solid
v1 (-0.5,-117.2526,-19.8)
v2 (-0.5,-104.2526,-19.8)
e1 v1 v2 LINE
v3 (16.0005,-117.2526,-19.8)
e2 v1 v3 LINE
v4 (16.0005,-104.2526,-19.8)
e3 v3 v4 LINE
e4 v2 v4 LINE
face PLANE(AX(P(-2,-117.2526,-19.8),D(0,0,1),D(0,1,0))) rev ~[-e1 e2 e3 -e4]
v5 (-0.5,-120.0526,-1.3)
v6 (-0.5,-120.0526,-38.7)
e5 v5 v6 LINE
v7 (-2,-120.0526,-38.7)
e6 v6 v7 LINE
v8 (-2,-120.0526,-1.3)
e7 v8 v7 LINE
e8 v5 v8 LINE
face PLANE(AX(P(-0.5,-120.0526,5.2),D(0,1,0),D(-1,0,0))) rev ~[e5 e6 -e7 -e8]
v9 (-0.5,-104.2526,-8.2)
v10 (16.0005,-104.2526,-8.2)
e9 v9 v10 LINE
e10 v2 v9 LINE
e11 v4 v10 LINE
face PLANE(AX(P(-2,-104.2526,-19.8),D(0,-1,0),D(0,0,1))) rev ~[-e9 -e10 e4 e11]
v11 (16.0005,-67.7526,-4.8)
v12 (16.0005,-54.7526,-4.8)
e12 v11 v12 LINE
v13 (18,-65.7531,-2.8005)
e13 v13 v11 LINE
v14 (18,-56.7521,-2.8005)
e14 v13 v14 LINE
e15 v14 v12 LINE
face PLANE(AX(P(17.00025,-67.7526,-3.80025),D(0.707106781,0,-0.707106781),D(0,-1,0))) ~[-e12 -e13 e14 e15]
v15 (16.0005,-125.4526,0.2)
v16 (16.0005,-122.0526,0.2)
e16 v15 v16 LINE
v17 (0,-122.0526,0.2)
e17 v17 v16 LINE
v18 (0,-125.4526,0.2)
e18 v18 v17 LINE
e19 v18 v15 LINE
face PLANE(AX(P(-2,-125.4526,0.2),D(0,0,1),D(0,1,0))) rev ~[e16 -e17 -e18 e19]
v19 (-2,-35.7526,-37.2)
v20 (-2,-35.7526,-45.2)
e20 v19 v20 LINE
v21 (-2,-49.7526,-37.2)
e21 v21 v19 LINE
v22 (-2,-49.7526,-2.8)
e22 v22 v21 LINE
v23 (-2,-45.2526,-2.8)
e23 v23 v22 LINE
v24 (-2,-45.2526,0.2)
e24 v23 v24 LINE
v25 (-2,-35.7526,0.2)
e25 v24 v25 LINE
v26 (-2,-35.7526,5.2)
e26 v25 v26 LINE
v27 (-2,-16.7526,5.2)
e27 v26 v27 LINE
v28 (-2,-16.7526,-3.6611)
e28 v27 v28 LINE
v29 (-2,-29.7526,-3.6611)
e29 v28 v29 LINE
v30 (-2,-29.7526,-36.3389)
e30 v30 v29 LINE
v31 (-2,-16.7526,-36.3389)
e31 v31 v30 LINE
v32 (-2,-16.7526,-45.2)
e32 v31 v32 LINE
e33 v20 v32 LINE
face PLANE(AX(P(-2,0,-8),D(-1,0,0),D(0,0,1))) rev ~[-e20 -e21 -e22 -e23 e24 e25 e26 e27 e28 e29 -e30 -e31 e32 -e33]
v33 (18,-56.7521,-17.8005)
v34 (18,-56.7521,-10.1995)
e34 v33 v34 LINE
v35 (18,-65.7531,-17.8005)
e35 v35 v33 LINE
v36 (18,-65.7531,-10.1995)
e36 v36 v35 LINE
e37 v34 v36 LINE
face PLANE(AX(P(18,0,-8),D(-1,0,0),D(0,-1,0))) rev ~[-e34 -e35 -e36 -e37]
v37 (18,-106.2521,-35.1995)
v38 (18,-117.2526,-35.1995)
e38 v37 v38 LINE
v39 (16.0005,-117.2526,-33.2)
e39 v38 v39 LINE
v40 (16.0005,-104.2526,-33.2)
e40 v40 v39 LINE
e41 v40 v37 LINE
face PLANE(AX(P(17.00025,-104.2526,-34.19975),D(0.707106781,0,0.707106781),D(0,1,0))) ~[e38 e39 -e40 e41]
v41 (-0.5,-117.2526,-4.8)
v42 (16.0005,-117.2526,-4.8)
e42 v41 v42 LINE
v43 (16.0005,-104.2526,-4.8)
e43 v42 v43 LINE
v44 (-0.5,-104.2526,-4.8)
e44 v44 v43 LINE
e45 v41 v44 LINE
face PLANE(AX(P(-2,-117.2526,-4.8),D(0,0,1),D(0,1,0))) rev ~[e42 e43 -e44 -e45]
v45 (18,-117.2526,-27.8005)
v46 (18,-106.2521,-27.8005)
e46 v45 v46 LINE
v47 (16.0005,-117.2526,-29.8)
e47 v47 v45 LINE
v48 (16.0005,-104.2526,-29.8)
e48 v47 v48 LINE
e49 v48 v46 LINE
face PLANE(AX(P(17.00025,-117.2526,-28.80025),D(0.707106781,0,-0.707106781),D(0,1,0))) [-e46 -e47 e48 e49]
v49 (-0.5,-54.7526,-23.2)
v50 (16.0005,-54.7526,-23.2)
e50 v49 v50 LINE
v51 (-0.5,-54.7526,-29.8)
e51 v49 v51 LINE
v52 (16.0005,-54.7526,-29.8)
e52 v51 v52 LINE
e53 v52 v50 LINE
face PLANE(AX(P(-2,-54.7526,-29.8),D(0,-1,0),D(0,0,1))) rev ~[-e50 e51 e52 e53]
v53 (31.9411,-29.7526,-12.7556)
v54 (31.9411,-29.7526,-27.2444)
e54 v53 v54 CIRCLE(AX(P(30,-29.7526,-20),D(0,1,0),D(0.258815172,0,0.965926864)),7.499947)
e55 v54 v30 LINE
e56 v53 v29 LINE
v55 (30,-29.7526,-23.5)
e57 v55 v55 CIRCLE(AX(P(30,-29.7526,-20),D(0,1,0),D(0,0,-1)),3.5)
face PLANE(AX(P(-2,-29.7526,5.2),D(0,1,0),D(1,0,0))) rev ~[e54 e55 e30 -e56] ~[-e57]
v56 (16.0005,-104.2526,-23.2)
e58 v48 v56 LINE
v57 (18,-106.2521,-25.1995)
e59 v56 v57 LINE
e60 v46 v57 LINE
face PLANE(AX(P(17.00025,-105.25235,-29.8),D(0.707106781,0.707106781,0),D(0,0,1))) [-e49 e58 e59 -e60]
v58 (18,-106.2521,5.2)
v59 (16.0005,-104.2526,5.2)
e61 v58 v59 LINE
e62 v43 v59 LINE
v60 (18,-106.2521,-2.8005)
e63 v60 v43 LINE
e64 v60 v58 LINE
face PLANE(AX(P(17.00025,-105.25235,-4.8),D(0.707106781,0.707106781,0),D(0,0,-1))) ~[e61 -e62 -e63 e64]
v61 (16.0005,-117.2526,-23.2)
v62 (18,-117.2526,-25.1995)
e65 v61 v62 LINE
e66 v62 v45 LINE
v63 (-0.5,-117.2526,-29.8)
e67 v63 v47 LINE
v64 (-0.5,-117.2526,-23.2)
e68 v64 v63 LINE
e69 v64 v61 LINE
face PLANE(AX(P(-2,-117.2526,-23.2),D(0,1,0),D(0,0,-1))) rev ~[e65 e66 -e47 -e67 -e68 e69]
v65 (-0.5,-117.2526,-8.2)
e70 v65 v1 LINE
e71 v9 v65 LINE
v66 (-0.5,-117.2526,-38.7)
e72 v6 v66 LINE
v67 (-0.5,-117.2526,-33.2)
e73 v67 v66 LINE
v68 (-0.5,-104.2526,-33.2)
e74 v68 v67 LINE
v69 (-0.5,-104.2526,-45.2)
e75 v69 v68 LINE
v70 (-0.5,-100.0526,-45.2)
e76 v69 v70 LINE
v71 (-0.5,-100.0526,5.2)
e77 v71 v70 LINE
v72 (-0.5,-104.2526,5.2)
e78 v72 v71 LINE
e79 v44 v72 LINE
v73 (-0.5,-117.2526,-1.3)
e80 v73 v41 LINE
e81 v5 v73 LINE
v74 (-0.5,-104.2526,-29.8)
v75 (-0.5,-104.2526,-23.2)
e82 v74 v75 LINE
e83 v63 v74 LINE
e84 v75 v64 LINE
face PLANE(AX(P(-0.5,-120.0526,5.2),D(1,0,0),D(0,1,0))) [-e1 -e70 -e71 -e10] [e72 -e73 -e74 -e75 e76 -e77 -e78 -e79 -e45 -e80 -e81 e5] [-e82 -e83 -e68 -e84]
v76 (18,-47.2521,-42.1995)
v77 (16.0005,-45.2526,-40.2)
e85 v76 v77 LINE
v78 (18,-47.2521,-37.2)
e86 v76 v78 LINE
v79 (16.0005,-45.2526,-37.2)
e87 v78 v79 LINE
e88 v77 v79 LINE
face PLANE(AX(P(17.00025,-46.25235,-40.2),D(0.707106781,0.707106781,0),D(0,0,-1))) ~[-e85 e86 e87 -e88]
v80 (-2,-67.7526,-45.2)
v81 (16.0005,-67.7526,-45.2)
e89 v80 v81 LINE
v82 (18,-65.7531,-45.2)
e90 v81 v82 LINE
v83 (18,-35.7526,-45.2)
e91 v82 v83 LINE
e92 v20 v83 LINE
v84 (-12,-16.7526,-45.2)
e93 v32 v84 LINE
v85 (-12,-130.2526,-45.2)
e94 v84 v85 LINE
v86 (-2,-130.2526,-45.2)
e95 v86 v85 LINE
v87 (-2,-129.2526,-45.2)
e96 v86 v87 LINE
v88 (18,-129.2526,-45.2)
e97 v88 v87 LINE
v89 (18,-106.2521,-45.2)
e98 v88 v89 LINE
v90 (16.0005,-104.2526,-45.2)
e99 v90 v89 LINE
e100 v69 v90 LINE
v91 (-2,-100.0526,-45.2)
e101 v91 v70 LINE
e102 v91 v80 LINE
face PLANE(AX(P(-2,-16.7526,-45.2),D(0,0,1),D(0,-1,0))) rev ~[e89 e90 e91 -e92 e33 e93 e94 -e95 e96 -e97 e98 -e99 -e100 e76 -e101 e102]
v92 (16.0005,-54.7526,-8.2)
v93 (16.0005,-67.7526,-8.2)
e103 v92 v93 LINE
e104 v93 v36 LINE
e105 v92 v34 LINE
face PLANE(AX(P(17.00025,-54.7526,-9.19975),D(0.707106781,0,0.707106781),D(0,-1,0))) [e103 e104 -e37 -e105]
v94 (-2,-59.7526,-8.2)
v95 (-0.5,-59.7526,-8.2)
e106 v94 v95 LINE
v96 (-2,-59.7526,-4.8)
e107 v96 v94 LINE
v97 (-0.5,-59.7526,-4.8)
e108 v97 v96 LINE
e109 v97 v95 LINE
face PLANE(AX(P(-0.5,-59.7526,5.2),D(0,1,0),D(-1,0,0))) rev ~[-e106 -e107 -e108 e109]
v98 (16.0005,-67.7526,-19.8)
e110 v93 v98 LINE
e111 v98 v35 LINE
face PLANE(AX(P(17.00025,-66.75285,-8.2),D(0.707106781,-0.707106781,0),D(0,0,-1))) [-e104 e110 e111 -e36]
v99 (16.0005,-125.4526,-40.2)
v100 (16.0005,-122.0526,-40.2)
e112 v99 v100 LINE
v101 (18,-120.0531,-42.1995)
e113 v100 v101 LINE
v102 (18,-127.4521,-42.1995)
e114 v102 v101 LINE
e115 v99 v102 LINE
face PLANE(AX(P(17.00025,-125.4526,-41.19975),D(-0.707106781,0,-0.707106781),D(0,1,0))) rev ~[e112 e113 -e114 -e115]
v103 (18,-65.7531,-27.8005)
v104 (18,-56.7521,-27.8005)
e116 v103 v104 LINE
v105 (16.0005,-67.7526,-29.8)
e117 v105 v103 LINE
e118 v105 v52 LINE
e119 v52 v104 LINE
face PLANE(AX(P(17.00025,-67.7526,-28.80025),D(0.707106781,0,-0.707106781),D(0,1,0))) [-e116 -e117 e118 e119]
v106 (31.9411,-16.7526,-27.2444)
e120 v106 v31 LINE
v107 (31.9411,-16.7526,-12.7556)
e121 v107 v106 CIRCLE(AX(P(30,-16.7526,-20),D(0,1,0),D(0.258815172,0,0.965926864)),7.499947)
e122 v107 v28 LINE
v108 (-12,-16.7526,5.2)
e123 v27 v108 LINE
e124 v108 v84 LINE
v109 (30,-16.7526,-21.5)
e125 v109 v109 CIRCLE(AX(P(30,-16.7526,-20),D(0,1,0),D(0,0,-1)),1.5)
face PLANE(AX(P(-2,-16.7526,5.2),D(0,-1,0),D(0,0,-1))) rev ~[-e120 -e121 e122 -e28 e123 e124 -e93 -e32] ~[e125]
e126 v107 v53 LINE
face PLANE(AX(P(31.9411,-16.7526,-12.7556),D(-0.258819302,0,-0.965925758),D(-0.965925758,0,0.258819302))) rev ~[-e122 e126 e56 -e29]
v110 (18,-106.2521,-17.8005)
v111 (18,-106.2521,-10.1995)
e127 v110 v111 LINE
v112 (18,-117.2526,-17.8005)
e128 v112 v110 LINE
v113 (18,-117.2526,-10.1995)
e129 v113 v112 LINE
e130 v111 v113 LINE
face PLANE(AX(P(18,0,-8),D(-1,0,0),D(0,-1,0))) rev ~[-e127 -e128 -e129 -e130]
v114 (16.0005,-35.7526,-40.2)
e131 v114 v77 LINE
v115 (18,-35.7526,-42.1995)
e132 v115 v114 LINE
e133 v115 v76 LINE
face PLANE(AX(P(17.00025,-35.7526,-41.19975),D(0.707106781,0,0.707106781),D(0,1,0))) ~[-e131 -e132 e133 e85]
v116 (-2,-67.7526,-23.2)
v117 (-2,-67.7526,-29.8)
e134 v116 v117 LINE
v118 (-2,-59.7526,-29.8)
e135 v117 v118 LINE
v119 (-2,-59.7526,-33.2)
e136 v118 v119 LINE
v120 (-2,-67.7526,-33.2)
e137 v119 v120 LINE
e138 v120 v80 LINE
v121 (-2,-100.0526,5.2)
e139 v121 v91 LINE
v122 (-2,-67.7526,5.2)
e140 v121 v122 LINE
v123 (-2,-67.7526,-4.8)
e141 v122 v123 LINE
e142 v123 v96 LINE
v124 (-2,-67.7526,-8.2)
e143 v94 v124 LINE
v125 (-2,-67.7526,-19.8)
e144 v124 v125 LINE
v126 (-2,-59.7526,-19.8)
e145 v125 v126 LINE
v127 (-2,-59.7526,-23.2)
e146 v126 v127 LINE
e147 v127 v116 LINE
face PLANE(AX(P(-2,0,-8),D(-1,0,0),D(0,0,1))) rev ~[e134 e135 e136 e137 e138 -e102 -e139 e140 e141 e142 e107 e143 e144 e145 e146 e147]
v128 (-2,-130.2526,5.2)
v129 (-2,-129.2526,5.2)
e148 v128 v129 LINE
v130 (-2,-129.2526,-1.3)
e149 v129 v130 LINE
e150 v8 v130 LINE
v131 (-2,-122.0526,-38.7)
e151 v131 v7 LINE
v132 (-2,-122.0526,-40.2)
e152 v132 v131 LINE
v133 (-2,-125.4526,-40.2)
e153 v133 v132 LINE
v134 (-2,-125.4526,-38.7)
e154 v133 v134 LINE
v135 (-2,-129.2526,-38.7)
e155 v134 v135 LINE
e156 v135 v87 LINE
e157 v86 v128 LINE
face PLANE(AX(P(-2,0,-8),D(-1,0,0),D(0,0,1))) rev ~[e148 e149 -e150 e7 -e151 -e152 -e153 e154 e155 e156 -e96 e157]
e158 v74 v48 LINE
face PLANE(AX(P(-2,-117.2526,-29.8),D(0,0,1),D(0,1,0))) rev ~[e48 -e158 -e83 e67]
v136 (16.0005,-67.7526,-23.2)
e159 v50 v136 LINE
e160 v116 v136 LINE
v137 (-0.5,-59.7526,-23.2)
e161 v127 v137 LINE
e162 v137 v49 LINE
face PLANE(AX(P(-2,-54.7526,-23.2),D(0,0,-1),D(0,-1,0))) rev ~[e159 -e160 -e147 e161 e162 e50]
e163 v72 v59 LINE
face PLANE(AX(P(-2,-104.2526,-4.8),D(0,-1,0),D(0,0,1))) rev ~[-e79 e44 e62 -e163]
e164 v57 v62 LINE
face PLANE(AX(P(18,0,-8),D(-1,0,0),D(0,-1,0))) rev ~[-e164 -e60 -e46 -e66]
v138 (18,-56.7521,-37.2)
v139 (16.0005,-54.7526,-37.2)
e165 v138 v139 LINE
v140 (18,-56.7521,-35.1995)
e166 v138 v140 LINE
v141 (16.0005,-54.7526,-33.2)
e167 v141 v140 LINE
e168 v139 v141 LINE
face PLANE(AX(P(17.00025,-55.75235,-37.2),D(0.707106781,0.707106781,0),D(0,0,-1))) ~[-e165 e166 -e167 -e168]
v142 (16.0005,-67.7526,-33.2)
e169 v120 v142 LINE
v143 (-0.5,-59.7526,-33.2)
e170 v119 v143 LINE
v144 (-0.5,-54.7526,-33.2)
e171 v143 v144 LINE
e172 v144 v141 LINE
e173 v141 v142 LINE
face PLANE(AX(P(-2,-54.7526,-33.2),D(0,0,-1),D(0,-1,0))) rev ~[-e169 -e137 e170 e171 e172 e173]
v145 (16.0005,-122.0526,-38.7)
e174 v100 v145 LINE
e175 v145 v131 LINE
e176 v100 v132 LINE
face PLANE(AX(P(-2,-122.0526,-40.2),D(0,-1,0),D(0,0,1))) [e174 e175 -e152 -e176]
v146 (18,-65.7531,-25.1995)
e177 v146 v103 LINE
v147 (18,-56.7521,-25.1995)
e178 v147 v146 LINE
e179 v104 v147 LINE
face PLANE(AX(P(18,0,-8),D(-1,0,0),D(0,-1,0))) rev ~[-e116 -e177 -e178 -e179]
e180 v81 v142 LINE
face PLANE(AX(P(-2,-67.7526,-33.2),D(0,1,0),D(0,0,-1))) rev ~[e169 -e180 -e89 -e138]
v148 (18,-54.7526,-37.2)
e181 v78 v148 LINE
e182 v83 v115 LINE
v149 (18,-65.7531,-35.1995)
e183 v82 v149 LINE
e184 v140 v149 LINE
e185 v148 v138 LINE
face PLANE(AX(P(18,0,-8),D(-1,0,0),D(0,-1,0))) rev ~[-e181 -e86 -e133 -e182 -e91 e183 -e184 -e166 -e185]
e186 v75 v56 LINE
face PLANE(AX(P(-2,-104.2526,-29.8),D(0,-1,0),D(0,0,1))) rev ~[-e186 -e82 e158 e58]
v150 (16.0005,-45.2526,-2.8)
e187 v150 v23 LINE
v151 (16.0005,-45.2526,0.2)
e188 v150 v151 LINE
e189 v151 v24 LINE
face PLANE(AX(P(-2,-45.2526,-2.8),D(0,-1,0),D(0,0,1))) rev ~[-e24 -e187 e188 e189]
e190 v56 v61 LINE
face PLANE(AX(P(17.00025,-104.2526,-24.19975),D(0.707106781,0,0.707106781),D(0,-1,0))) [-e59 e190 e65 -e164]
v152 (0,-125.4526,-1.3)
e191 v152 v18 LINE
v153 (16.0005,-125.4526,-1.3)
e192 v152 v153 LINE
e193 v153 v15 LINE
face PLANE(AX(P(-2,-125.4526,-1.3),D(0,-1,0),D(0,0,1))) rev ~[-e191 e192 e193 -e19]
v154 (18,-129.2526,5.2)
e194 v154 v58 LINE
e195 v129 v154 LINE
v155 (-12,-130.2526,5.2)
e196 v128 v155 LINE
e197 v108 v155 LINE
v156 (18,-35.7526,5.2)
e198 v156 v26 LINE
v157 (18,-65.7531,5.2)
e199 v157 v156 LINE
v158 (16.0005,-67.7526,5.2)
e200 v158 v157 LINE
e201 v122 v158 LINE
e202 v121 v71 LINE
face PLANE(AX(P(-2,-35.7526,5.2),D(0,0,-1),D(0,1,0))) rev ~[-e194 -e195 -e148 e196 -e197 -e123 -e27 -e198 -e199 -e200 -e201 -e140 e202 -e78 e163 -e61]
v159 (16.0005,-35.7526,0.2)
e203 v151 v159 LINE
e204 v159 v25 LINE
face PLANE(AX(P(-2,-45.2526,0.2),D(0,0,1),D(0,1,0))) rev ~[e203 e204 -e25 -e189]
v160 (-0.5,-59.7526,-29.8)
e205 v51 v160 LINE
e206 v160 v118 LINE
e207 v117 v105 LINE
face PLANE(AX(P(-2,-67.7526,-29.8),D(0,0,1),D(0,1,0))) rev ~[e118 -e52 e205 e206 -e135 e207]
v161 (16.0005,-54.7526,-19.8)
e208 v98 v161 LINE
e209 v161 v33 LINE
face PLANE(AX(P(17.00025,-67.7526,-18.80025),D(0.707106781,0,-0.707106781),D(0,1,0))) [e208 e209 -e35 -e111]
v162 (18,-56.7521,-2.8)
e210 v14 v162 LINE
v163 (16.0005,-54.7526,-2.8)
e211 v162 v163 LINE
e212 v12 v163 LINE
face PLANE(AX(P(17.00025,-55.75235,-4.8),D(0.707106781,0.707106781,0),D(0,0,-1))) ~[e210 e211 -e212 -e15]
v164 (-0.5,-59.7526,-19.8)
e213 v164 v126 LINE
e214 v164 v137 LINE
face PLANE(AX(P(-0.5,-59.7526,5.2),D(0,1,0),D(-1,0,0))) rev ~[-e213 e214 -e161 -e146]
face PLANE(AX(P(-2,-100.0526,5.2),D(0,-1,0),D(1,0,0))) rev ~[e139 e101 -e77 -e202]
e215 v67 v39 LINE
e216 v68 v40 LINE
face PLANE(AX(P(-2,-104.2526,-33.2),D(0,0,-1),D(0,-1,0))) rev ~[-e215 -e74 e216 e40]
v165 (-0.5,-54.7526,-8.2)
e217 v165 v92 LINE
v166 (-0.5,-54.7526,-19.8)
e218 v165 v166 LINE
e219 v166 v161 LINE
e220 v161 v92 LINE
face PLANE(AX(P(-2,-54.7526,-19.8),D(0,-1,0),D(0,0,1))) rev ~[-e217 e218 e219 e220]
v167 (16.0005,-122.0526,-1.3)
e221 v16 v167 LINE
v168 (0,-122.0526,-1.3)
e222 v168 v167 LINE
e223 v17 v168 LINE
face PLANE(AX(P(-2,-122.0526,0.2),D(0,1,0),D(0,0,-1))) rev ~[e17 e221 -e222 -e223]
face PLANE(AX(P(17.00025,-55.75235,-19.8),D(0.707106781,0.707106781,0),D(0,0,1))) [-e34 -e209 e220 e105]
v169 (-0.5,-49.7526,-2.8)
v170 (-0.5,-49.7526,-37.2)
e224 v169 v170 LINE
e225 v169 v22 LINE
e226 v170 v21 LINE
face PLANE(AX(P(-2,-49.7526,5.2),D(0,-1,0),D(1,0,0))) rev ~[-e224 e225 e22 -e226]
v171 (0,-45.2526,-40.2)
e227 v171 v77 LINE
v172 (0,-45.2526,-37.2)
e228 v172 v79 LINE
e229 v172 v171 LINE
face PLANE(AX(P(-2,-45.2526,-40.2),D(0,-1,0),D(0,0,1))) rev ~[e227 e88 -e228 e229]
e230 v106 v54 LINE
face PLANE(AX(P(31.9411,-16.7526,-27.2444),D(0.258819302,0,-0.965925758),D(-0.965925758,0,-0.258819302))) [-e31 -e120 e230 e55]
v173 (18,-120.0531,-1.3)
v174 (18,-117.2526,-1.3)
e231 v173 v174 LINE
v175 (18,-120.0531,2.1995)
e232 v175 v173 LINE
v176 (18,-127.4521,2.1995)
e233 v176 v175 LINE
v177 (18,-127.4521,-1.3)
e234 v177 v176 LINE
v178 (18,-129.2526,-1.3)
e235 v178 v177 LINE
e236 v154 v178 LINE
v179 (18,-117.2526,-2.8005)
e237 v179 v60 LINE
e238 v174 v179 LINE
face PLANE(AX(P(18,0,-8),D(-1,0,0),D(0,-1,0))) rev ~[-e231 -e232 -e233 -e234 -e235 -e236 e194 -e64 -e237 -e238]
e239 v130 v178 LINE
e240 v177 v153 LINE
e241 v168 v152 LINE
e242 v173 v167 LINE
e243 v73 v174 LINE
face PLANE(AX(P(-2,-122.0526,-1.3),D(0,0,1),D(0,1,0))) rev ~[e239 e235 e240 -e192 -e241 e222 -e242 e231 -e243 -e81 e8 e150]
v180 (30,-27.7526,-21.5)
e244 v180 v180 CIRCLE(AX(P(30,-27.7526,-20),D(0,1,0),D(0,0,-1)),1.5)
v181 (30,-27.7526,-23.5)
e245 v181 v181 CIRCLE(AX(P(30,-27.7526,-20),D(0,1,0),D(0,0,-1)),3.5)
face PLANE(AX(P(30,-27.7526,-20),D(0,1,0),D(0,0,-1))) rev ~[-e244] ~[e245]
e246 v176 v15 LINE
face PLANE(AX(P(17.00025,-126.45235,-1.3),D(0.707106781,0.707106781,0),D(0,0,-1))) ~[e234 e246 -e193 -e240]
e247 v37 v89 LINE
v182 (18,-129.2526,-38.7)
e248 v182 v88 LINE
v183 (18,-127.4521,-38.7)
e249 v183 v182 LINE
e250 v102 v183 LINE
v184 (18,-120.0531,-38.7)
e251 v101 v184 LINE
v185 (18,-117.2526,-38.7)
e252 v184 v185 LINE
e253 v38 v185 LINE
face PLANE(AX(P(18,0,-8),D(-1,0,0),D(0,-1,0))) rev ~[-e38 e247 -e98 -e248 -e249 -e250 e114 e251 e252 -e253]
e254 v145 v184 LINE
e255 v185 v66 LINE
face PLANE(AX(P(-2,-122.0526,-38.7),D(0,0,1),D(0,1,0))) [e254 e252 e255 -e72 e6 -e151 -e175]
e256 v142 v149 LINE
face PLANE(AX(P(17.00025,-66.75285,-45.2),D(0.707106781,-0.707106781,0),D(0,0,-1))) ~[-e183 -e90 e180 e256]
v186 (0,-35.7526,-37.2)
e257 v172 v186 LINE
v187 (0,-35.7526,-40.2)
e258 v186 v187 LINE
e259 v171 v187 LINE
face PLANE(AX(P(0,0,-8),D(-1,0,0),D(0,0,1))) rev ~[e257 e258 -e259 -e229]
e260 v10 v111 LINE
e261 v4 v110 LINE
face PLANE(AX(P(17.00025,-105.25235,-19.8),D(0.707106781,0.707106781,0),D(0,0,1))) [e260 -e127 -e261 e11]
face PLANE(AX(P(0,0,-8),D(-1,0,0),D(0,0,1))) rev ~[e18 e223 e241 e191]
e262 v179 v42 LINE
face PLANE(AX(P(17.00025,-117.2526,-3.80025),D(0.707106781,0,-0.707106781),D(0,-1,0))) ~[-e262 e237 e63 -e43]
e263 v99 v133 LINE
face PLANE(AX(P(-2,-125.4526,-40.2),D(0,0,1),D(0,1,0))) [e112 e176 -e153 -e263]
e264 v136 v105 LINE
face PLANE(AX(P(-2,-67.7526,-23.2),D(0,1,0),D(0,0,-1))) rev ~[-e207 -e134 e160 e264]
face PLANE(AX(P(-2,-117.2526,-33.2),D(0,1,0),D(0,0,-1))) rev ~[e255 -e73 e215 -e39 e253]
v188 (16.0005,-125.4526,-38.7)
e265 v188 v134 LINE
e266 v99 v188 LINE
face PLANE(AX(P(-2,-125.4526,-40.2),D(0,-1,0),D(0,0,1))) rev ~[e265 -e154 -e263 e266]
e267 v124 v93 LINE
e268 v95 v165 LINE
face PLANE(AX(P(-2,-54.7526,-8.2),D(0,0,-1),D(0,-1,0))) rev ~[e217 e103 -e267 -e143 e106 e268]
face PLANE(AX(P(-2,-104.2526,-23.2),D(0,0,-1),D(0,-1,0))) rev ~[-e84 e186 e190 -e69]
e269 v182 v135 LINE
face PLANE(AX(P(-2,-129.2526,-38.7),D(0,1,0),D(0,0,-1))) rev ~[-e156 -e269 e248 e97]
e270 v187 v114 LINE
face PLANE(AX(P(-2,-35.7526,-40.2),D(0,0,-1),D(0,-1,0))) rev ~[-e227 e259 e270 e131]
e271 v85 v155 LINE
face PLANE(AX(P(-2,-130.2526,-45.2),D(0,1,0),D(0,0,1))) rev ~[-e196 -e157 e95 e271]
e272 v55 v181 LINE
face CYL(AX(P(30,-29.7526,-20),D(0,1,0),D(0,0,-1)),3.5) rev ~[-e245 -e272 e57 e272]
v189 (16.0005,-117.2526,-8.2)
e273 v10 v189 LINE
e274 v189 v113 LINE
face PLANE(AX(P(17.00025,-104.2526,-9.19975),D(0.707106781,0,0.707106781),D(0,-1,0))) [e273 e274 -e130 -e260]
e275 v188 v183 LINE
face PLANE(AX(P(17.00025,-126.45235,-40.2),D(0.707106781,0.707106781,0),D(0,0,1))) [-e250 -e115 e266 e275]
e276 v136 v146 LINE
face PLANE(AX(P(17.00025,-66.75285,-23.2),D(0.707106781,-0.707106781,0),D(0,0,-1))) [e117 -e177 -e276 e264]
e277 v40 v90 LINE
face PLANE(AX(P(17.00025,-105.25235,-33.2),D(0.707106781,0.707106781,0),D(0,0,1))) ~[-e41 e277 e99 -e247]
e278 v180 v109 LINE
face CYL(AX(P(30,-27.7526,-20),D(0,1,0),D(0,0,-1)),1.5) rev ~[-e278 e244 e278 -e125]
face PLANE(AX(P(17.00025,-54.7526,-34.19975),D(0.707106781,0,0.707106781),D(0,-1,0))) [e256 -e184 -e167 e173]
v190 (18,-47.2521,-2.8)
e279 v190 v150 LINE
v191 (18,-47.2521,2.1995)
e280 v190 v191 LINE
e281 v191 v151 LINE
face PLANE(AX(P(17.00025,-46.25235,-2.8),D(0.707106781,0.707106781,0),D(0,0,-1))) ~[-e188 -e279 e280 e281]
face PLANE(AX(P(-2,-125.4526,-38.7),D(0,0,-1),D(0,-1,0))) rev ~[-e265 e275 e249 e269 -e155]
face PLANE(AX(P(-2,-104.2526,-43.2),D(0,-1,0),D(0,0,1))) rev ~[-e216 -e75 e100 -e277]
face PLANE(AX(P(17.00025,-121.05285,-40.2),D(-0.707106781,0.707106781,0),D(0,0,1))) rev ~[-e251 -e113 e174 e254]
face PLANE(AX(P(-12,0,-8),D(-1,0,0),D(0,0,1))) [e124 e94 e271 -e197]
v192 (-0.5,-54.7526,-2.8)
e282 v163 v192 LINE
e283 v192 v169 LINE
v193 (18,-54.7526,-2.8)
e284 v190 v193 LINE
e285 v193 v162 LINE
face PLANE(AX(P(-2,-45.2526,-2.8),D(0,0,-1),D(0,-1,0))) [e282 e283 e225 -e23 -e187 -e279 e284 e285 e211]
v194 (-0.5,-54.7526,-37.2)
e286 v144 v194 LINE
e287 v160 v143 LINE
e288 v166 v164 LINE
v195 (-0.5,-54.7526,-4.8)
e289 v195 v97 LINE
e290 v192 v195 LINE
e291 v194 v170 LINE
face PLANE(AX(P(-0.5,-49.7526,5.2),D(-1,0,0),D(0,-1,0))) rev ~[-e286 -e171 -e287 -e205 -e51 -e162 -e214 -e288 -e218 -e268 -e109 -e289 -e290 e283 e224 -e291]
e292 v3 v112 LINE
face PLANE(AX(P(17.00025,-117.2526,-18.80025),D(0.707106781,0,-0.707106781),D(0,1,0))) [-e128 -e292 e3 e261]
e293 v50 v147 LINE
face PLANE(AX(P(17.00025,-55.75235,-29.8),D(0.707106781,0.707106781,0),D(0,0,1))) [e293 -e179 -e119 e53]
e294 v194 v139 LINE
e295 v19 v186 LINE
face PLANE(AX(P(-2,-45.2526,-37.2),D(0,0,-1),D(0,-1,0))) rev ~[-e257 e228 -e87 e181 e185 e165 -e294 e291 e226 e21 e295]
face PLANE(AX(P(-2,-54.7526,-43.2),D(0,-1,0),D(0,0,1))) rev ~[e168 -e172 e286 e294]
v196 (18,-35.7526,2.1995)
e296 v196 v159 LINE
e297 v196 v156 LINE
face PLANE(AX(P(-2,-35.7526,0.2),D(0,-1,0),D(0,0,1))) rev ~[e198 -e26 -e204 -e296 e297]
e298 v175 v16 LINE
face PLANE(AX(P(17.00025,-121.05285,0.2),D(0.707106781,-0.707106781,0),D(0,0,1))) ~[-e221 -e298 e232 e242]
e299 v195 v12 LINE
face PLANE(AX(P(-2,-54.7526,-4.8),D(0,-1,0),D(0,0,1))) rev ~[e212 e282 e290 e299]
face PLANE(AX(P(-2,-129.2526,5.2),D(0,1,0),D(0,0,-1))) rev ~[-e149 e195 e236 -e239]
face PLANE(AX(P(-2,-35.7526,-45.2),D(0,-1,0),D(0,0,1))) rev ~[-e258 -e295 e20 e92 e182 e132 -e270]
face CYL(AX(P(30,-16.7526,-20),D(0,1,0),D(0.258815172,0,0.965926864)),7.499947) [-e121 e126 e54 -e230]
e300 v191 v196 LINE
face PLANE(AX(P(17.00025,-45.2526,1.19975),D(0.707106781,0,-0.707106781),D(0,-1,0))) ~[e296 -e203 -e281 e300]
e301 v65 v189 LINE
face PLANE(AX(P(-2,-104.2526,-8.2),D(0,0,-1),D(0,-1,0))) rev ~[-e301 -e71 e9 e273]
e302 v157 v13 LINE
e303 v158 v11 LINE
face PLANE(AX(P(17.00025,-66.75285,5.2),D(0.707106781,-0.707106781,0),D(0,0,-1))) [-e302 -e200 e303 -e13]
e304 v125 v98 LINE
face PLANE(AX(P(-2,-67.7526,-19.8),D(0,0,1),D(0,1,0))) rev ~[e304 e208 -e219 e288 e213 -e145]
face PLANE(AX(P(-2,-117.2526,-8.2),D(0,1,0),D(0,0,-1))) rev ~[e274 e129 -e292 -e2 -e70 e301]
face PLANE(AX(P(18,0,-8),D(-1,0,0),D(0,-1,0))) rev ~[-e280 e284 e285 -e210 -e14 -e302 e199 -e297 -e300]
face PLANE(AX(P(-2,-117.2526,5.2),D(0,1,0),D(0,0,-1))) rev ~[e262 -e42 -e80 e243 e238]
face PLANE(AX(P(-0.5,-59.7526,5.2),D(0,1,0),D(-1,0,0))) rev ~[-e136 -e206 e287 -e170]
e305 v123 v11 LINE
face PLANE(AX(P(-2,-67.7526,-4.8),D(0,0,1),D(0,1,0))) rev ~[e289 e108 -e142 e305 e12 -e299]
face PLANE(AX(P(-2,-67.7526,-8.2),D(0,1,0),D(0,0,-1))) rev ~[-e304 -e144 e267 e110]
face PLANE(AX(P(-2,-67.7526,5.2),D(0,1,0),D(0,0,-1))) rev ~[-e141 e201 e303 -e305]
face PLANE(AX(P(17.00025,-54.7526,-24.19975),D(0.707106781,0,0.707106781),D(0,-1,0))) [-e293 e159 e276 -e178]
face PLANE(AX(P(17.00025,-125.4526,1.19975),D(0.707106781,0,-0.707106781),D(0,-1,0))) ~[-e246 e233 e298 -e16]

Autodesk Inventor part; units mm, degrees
ref_plane "YZ Plane" through (0, 0, 0) normal (1, 0, 0) x (0, 1, 0)
ref_plane "XZ Plane" through (0, 0, 0) normal (0, 1, 0) x (-1, 0, 0)
ref_plane "Work Plane3" through (-2, 0, -40) normal (-1, 0, 0) x (0, 0, 1)
sketch "Sketch3" plane through (-2, 0, -8) normal (-1, 0, 0) x (0, -1, 0)
  line L0 (54.7526, 13.2) -> (67.7526, 13.2)
  line L1 (67.7526, 13.2) -> (67.7526, 3.2)
  line L2 (67.7526, 3.2) -> (54.7526, 3.2)
  line L3 (54.7526, 3.2) -> (54.7526, 13.2)
  line L4 (104.2526, 13.2) -> (117.2526, 13.2)
  line L5 (117.2526, 13.2) -> (117.2526, 3.2)
  line L6 (117.2526, 3.2) -> (104.2526, 3.2)
  line L7 (104.2526, 3.2) -> (104.2526, 13.2)
  line L8 (54.7526, -25.2) -> (67.7526, -25.2)
  line L9 (67.7526, -25.2) -> (67.7526, -35.2)
  line L10 (67.7526, -35.2) -> (54.7526, -35.2)
  line L11 (54.7526, -35.2) -> (54.7526, -25.2)
  line L12 (104.2526, -25.2) -> (117.2526, -25.2)
  line L13 (117.2526, -25.2) -> (117.2526, -35.2)
  line L14 (117.2526, -35.2) -> (104.2526, -35.2)
  line L15 (104.2526, -35.2) -> (104.2526, -25.2)
  line L16 (41.7526, -32) -> (41.7526, 8) projected
  line L17 (125.2526, 8) -> (125.2526, -32) projected
  line L18 (63.2526, 0) -> (63.2526, 3) projected
  line L19 (67.7526, 0) -> (67.7526, 3) projected
  line L20 (99.2526, 0) -> (99.2526, 3) projected
  line L21 (103.7526, 0) -> (103.7526, 3) projected
  line L22 (44.7526, 3) -> (122.2526, 3) projected
  line L23 (122.2526, -25) -> (44.7526, -25) projected
  line L24 (54.7526, -0.2) -> (67.7526, -0.2)
  line L25 (67.7526, -0.2) -> (67.7526, -11.8)
  line L26 (67.7526, -11.8) -> (54.7526, -11.8)
  line L27 (54.7526, -11.8) -> (54.7526, -0.2)
  line L28 (54.7526, -15.2) -> (67.7526, -15.2)
  line L29 (67.7526, -15.2) -> (67.7526, -21.8)
  line L30 (67.7526, -21.8) -> (54.7526, -21.8)
  line L31 (54.7526, -21.8) -> (54.7526, -15.2)
  line L32 (104.2526, -0.2) -> (117.2526, -0.2)
  line L33 (117.2526, -0.2) -> (117.2526, -11.8)
  line L34 (117.2526, -11.8) -> (104.2526, -11.8)
  line L35 (104.2526, -11.8) -> (104.2526, -0.2)
  line L36 (104.2526, -15.2) -> (117.2526, -15.2)
  line L37 (117.2526, -15.2) -> (117.2526, -21.8)
  line L38 (117.2526, -21.8) -> (104.2526, -21.8)
  line L39 (104.2526, -21.8) -> (104.2526, -15.2)
  line L40 (44.7526, 0) -> (122.2526, 0) projected
  line L41 (44.7526, -12) -> (122.2526, -12) projected
  line L42 (44.7526, -15) -> (122.2526, -15) projected
  line L43 (44.7526, -22) -> (122.2526, -22) projected
  line L44 (122.2526, 8) -> (122.2526, -32) projected
  line L45 (44.7526, -32) -> (44.7526, 8) projected
  line L46 (125.2526, 8) -> (122.2526, 8) projected
  line L47 (125.2526, -32) -> (122.2526, -32) projected
  dimension "d7" = 10
  dimension "d9" = 0.2
  dimension "d10" = 0.2
  dimension "d11" = 0.2
  dimension "d12" = 0.2
  dimension "d13" = 0.2
  dimension "d34" = 5
  dimension "d36" = 13
  dimension "d48" = 0.2
  dimension "d80" = 10
extrude "Extrusion2" add sketch "Sketch3" against normal blind 20 contours L0 L1 L2 L3 | L4 L5 L6 L7 | L8 L9 L10 L11 | L12 L13 L14 L15 | L24 L25 L26 L27 | L28 L29 L30 L31 | L32 L33 L34 L35 | L36 L37 L38 L39
sketch "Sketch10" plane through (-2, 0, -8) normal (-1, 0, 0) x (0, 0, 1)
  line L0 (13.2, -117.2526) -> (13.2, -129.2526)
  line L1 (13.2, -129.2526) -> (6.7, -129.2526)
  line L2 (6.7, -129.2526) -> (6.7, -125.4526)
  line L3 (6.7, -125.4526) -> (8.2, -125.4526)
  line L4 (6.7, -117.2526) -> (13.2, -117.2526)
  line L5 (8, -125.2526) -> (-32, -125.2526) projected
  line L6 (8, -125.2526) -> (8, -122.2526) projected
  line L7 (-32, -122.2526) -> (8, -122.2526) projected
  line L8 (-32, -125.2526) -> (-32, -122.2526) projected
  line L9 (13.2, -104.2526) -> (13.2, -117.2526) projected
  line L10 (-30.7, -129.2526) -> (-37.2, -129.2526)
  line L11 (-37.2, -129.2526) -> (-37.2, -104.2526)
  line L12 (-32.2, -125.4526) -> (-30.7, -125.4526)
  line L13 (-30.7, -125.4526) -> (-30.7, -129.2526)
  line L14 (-32.2, -125.4526) -> (-32.2, -122.0526)
  line L15 (-32.2, -122.0526) -> (-30.7, -122.0526)
  line L16 (-30.7, -122.0526) -> (-30.7, -117.2526)
  line L17 (8.2, -125.4526) -> (8.2, -122.0526)
  line L18 (8.2, -122.0526) -> (6.7, -122.0526)
  line L19 (6.7, -122.0526) -> (6.7, -117.2526)
  line L20 (13.2, -117.2526) -> (3.2, -117.2526) projected
  line L21 (-25.2, -104.2526) -> (-25.2, -117.2526) projected
  line L22 (-25.2, -117.2526) -> (-35.2, -117.2526) projected
  line L23 (-35.2, -117.2526) -> (-35.2, -104.2526) projected
  line L24 (-35.2, -104.2526) -> (-25.2, -104.2526) projected
  line L25 (-35.2, -117.2526) -> (-35.2, -104.2526) projected
  line L26 (-35.2, -104.2526) -> (-37.2, -104.2526)
  line L27 (13.2, -35.7526) -> (13.2, -54.7526)
  line L28 (5.2, -45.2526) -> (8.2, -45.2526)
  line L29 (8.2, -45.2526) -> (8.2, -35.7526)
  line L30 (8.2, -35.7526) -> (13.2, -35.7526)
  line L31 (-29.2, -45.2526) -> (-29.2, -54.7526)
  line L32 (-37.2, -67.7526) -> (-37.2, -35.7526)
  line L33 (-37.2, -35.7526) -> (-32.2, -35.7526)
  line L34 (-32.2, -35.7526) -> (-32.2, -45.2526)
  line L35 (-32.2, -45.2526) -> (-29.2, -45.2526)
  line L36 (8, -44.7526) -> (-32, -44.7526) projected
  line L37 (8, -44.7526) -> (8, -41.7526) projected
  line L38 (-32, -41.7526) -> (8, -41.7526) projected
  line L39 (-32, -44.7526) -> (-32, -41.7526) projected
  line L40 (13.2, -54.7526) -> (13.2, -67.7526) projected
  line L41 (13.2, -67.7526) -> (3.2, -67.7526) projected
  line L42 (3.2, -67.7526) -> (3.2, -54.7526) projected
  line L43 (3.2, -54.7526) -> (13.2, -54.7526) projected
  line L44 (3.2, -54.7526) -> (13.2, -54.7526) projected
  line L45 (-25.2, -54.7526) -> (-25.2, -67.7526) projected
  line L46 (-25.2, -67.7526) -> (-35.2, -67.7526) projected
  line L47 (-35.2, -67.7526) -> (-35.2, -54.7526) projected
  line L48 (-35.2, -54.7526) -> (-25.2, -54.7526) projected
  line L49 (-37.2, -67.7526) -> (-35.2, -67.7526)
  line L50 (5.2, -45.2526) -> (5.2, -54.7526)
  line L51 (-35.2, -54.7526) -> (-25.2, -54.7526) projected
  point P0 (8, 0)
  dimension "d50" = 0.2
  dimension "d54" = 12
  dimension "d58" = 0.2
  dimension "d59" = 0.2
  dimension "d60" = 1.5
  dimension "d61" = 0.2
  dimension "d71" = 0.5
  dimension "d72" = 0.2
  dimension "d75" = 6
  dimension "d77" = 5
  dimension "d78" = 0.2
  dimension "d79" = 0.5
  dimension "d83" = 3
extrude "Extrusion7" add sketch "Sketch10" against normal blind 20 contours L0 L1 L2 L3 L17 L18 L19 L4 | L10 L11 L26 L23 L22 L16 L15 L14 L12 L13 | L27 L43 L50 L28 L29 L30 | L31 L48 L47 L49 L32 L33 L34 L35
sketch "Sketch11" plane through (-2, 0, -8) normal (-1, 0, 0) x (0, 0, 1)
  line L0 (6.7, -122.0526) -> (6.7, -117.2526) projected
  line L1 (8.2, -122.0526) -> (6.7, -122.0526) projected
  line L2 (8.2, -125.4526) -> (8.2, -122.0526) projected
  line L3 (6.7, -125.4526) -> (8.2, -125.4526) projected
  line L4 (6.7, -129.2526) -> (6.7, -125.4526) projected
  line L5 (13.2, -129.2526) -> (6.7, -129.2526) projected
  line L6 (-37.2, -129.2526) -> (-30.7, -129.2526) projected
  line L7 (-30.7, -129.2526) -> (-30.7, -125.4526) projected
  line L8 (-30.7, -125.4526) -> (-32.2, -125.4526) projected
  line L9 (-32.2, -125.4526) -> (-32.2, -122.0526) projected
  line L10 (-32.2, -122.0526) -> (-30.7, -122.0526) projected
  line L11 (-30.7, -122.0526) -> (-30.7, -117.2526) projected
  line L12 (-37.2, -104.2526) -> (-37.2, -129.2526) projected
  line L13 (6.7, -122.0526) -> (6.7, -125.4526)
  line L14 (-30.7, -122.0526) -> (-32.2, -122.0526) projected
  line L15 (-30.7, -122.0526) -> (-30.7, -125.4526)
  line L16 (-11.8, -54.7526) -> (-0.2, -54.7526) projected
  line L17 (-25.2, -104.2526) -> (-25.2, -117.2526) projected
  line L18 (-25.2, -117.2526) -> (-30.7, -117.2526) projected
  line L19 (13.2, -104.2526) -> (13.2, -129.2526) projected
  line L20 (3.2, -104.2526) -> (13.2, -104.2526) projected
  line L21 (3.2, -117.2526) -> (3.2, -104.2526) projected
  line L22 (6.7, -117.2526) -> (3.2, -117.2526) projected
  line L23 (-25.2, -104.2526) -> (-37.2, -104.2526) projected
  line L24 (-25.2, -54.7526) -> (-25.2, -67.7526) projected
  line L25 (-29.2, -54.7526) -> (-25.2, -54.7526) projected
  line L26 (-29.2, -54.7526) -> (-29.2, -45.2526) projected
  line L27 (-29.2, -45.2526) -> (-32.2, -45.2526) projected
  line L28 (-32.2, -45.2526) -> (-32.2, -35.7526) projected
  line L29 (-32.2, -35.7526) -> (-37.2, -35.7526) projected
  line L30 (-37.2, -35.7526) -> (-37.2, -67.7526) projected
  line L31 (-25.2, -67.7526) -> (-37.2, -67.7526) projected
  line L32 (13.2, -35.7526) -> (13.2, -67.7526) projected
  line L33 (13.2, -35.7526) -> (8.2, -35.7526) projected
  line L34 (8.2, -35.7526) -> (8.2, -45.2526) projected
  line L35 (8.2, -45.2526) -> (5.2, -45.2526) projected
  line L36 (5.2, -45.2526) -> (5.2, -54.7526) projected
  line L37 (3.2, -54.7526) -> (5.2, -54.7526) projected
  line L38 (3.2, -67.7526) -> (3.2, -54.7526) projected
  line L39 (13.2, -67.7526) -> (3.2, -67.7526) projected
  line L40 (5.2, -45.2526) -> (5.2, -35.7526)
  line L41 (5.2, -35.7526) -> (8.2, -35.7526)
  line L42 (5.2, -45.2526) -> (5.2, -54.7526) projected
  line L43 (-29.2, -45.2526) -> (-29.2, -35.7526)
  line L44 (-29.2, -35.7526) -> (-32.2, -35.7526)
  line L45 (13.2, -35.7526) -> (8.2, -35.7526) projected
  point P0 (8, 0)
ref_plane "Work Plane5" through (0, -122.2526, -8) normal (-1, 0, 0) x (0, 0, 1)
extrude "Extrusion8" add sketch "Sketch11" against normal up to surface (2 mm away) contours L1 L2 L3 L13 | L12 L23 L17 L18 L11 L10 L9 L8 L7 L6 | L27 L28 L44 L43 | L32 L39 L38 L37 L36 L35 L34 L33
sketch "Sketch4" plane through (-2, 0, -8) normal (-1, 0, 0) x (0, 0, 1)
  line L0 (13.2, -16.7526) -> (-37.2, -16.7526)
  line L1 (-37.2, -16.7526) -> (-37.2, -130.2526)
  line L2 (-37.2, -130.2526) -> (13.2, -130.2526)
  line L3 (13.2, -130.2526) -> (13.2, -16.7526)
  line L4 (13.2, -35.7526) -> (13.2, -67.7526) projected
  line L5 (3.2, -67.7526) -> (3.2, -54.7526) projected
  line L6 (13.2, -67.7526) -> (3.2, -67.7526) projected
  line L7 (13.2, -104.2526) -> (13.2, -129.2526) projected
  line L8 (3.2, -104.2526) -> (13.2, -104.2526) projected
  line L9 (3.2, -117.2526) -> (3.2, -104.2526) projected
  line L10 (6.7, -117.2526) -> (3.2, -117.2526) projected
  line L11 (-25.2, -54.7526) -> (-25.2, -67.7526) projected
  line L12 (-29.2, -54.7526) -> (-25.2, -54.7526) projected
  line L13 (-25.2, -67.7526) -> (-37.2, -67.7526) projected
  line L14 (-25.2, -104.2526) -> (-25.2, -117.2526) projected
  line L15 (-25.2, -104.2526) -> (-37.2, -104.2526) projected
  line L16 (-25.2, -117.2526) -> (-30.7, -117.2526) projected
  line L17 (-32, -41.7526) -> (8, -41.7526) projected
  line L18 (8, -125.2526) -> (-32, -125.2526) projected
  line L19 (13.2, -54.7526) -> (13.2, -67.7526) projected
  line L20 (-35.2, -67.7526) -> (-35.2, -54.7526) projected
  line L21 (6.7, -129.2526) -> (6.7, -117.2526) projected
  line L22 (13.2, -129.2526) -> (6.7, -129.2526) projected
  line L23 (-37.2, -104.2526) -> (-37.2, -129.2526) projected
  line L24 (-37.2, -129.2526) -> (-30.7, -129.2526) projected
  line L25 (-30.7, -129.2526) -> (-30.7, -125.4526) projected
  line L26 (-30.7, -125.4526) -> (-32.2, -125.4526) projected
  line L27 (-32.2, -125.4526) -> (-32.2, -122.0526) projected
  line L28 (-32.2, -122.0526) -> (-30.7, -122.0526) projected
  line L29 (-30.7, -122.0526) -> (-30.7, -117.2526) projected
  line L30 (-37.2, -129.2526) -> (-37.2, -104.2526) projected
  line L31 (-37.2, -35.7526) -> (-37.2, -67.7526) projected
  line L32 (13.2, -35.7526) -> (8.2, -35.7526) projected
  line L33 (5.2, -45.2526) -> (5.2, -54.7526) projected
  line L34 (3.2, -54.7526) -> (5.2, -54.7526) projected
  line L35 (-29.2, -54.7526) -> (-29.2, -35.7526) projected
  line L36 (-29.2, -35.7526) -> (-37.2, -35.7526) projected
  line L37 (8.2, -35.7526) -> (8.2, -45.2526) projected
  line L38 (8.2, -45.2526) -> (5.2, -45.2526) projected
  point P0 (8, 0)
  dimension "d16" = 25
  dimension "d17" = 5
extrude "Extrusion3" add sketch "Sketch4" along normal blind 10
sketch "Sketch6" plane through (-2, -16.7526, 5.2) normal (0, 1, 0) x (1, 0, 0)
  arc A0 (33.9411, 17.9556) -> (33.9411, 32.4444) centre (32, 25.2) ccw
  line L0 (0, 0) -> (0, 50.4) projected
  line L1 (33.9411, 32.4444) -> (0, 41.5389)
  line L2 (0, 28.4) -> (0, 35) projected
  line L3 (33.9411, 17.9556) -> (0, 8.8611)
  line L4 (0, 50.4) -> (0, 0) projected
  point P0 (2, 5.2)
  point P1 (0, 25.2)
  dimension "d21" = 15
  dimension "d22" = 75
  dimension "d23" = 75
  dimension "d68" = 32
extrude "Extrusion4" add sketch "Sketch6" against normal blind 13
sketch "Sketch7" plane through (-2, -29.7526, 5.2) normal (0, -1, 0) x (1, 0, 0)
  arc A0 (33.9411, -32.4444) -> (33.9411, -17.9556) centre (32, -25.2) ccw projected
  line L0 (0, -8.8611) -> (33.9411, -17.9556) projected
  line L1 (33.9411, -32.4444) -> (0, -41.5389) projected
  point P0 (2, -5.2)
hole "Hole1" at (30, -29.7526, -20) direction (0, 1, 0) diameter 3 end through all counterbore diameter 7 counterbore depth 2
ref_plane "Work Plane4" through (18, -86.0026, -4.8) normal (0, -1, 0) x (1, 0, 0)
sketch "Sketch8" plane through (18, -67.7526, 5.2) normal (0, 0, 1) x (1, 0, 0)
  line L0 (-20, 51) -> (-20, -62.5) projected
  line L1 (-20, 18) -> (-18.5, 18)
  line L2 (-18.5, 18) -> (-18.5, 8)
  line L3 (-18.5, 8) -> (-20, 8)
  line L4 (-20, 0) -> (0, 0) projected
  line L5 (-20, 0) -> (-9.8118, 0) construction
  line L6 (-20, -49.5) -> (-20, -36.5) projected
  line L7 (-20, -32.3) -> (-18.5, -32.3)
  line L8 (-18.5, -52.3) -> (-18.5, -32.3)
  line L9 (-18.5, -52.3) -> (-20, -52.3)
  line L10 (-20, -61.5) -> (-20, -49.5) projected
  line L11 (-18, -54.3) -> (0, -54.3) projected
  line L12 (-20, -36.5) -> (-20, 0) projected
  line L13 (41.5, 23) -> (-18, 23) projected
  point P0 (-18, 67.7526)
  point P1 (-20, -59.3)
  dimension "d38" = 1.5
  dimension "d39" = 10
  dimension "d69" = 2
  dimension "d70" = 20
  dimension "d82" = 5
extrude "Extrusion5" add sketch "Sketch8" against normal up to surface (50.4 mm away)
chamfer "Chamfer1" distance 2 angle 45 34 edges at (18, -61.2526, -33.2) (18, -61.2526, -29.8) (18, -61.2526, -19.8) (18, -61.2526, -8.2) (18, -61.2526, -4.8) (18, -67.7526, 0.2) (18, -67.7526, -14) (18, -67.7526, -26.5) (18, -67.7526, -39.2) (18, -61.2526, -23.2) (18, -54.7526, -35.2) (18, -54.7526, -26.5) (18, -54.7526, -14) (18, -54.7526, -3.8) (18, -104.2526, -39.2) (18, -104.2526, -26.5) (18, -104.2526, -14) (18, -104.2526, 0.2) (18, -110.7526, -4.8) (18, -110.7526, -8.2) (18, -110.7526, -19.8) (18, -110.7526, -23.2) (18, -110.7526, -29.8) (18, -110.7526, -33.2) (18, -122.0526, -39.45) (18, -123.7526, -40.2) (18, -125.4526, -39.45) (18, -123.7526, 0.2) (18, -122.0526, -0.55) (18, -125.4526, -0.55) (18, -40.5026, 0.2) (18, -45.2526, -1.3) (18, -45.2526, -38.7) (18, -40.5026, -40.2)
equation "\"d10\" = d9"
equation "\"d11\" = d9"
equation "\"d12\" = d9"
equation "\"d13\" = d9"
equation "\"d48\" = d9"
equation "\"d58\" = d50"
equation "\"d59\" = d50"
equation "\"d61\" = d50"
properties part number "Assembly-jig-base"
